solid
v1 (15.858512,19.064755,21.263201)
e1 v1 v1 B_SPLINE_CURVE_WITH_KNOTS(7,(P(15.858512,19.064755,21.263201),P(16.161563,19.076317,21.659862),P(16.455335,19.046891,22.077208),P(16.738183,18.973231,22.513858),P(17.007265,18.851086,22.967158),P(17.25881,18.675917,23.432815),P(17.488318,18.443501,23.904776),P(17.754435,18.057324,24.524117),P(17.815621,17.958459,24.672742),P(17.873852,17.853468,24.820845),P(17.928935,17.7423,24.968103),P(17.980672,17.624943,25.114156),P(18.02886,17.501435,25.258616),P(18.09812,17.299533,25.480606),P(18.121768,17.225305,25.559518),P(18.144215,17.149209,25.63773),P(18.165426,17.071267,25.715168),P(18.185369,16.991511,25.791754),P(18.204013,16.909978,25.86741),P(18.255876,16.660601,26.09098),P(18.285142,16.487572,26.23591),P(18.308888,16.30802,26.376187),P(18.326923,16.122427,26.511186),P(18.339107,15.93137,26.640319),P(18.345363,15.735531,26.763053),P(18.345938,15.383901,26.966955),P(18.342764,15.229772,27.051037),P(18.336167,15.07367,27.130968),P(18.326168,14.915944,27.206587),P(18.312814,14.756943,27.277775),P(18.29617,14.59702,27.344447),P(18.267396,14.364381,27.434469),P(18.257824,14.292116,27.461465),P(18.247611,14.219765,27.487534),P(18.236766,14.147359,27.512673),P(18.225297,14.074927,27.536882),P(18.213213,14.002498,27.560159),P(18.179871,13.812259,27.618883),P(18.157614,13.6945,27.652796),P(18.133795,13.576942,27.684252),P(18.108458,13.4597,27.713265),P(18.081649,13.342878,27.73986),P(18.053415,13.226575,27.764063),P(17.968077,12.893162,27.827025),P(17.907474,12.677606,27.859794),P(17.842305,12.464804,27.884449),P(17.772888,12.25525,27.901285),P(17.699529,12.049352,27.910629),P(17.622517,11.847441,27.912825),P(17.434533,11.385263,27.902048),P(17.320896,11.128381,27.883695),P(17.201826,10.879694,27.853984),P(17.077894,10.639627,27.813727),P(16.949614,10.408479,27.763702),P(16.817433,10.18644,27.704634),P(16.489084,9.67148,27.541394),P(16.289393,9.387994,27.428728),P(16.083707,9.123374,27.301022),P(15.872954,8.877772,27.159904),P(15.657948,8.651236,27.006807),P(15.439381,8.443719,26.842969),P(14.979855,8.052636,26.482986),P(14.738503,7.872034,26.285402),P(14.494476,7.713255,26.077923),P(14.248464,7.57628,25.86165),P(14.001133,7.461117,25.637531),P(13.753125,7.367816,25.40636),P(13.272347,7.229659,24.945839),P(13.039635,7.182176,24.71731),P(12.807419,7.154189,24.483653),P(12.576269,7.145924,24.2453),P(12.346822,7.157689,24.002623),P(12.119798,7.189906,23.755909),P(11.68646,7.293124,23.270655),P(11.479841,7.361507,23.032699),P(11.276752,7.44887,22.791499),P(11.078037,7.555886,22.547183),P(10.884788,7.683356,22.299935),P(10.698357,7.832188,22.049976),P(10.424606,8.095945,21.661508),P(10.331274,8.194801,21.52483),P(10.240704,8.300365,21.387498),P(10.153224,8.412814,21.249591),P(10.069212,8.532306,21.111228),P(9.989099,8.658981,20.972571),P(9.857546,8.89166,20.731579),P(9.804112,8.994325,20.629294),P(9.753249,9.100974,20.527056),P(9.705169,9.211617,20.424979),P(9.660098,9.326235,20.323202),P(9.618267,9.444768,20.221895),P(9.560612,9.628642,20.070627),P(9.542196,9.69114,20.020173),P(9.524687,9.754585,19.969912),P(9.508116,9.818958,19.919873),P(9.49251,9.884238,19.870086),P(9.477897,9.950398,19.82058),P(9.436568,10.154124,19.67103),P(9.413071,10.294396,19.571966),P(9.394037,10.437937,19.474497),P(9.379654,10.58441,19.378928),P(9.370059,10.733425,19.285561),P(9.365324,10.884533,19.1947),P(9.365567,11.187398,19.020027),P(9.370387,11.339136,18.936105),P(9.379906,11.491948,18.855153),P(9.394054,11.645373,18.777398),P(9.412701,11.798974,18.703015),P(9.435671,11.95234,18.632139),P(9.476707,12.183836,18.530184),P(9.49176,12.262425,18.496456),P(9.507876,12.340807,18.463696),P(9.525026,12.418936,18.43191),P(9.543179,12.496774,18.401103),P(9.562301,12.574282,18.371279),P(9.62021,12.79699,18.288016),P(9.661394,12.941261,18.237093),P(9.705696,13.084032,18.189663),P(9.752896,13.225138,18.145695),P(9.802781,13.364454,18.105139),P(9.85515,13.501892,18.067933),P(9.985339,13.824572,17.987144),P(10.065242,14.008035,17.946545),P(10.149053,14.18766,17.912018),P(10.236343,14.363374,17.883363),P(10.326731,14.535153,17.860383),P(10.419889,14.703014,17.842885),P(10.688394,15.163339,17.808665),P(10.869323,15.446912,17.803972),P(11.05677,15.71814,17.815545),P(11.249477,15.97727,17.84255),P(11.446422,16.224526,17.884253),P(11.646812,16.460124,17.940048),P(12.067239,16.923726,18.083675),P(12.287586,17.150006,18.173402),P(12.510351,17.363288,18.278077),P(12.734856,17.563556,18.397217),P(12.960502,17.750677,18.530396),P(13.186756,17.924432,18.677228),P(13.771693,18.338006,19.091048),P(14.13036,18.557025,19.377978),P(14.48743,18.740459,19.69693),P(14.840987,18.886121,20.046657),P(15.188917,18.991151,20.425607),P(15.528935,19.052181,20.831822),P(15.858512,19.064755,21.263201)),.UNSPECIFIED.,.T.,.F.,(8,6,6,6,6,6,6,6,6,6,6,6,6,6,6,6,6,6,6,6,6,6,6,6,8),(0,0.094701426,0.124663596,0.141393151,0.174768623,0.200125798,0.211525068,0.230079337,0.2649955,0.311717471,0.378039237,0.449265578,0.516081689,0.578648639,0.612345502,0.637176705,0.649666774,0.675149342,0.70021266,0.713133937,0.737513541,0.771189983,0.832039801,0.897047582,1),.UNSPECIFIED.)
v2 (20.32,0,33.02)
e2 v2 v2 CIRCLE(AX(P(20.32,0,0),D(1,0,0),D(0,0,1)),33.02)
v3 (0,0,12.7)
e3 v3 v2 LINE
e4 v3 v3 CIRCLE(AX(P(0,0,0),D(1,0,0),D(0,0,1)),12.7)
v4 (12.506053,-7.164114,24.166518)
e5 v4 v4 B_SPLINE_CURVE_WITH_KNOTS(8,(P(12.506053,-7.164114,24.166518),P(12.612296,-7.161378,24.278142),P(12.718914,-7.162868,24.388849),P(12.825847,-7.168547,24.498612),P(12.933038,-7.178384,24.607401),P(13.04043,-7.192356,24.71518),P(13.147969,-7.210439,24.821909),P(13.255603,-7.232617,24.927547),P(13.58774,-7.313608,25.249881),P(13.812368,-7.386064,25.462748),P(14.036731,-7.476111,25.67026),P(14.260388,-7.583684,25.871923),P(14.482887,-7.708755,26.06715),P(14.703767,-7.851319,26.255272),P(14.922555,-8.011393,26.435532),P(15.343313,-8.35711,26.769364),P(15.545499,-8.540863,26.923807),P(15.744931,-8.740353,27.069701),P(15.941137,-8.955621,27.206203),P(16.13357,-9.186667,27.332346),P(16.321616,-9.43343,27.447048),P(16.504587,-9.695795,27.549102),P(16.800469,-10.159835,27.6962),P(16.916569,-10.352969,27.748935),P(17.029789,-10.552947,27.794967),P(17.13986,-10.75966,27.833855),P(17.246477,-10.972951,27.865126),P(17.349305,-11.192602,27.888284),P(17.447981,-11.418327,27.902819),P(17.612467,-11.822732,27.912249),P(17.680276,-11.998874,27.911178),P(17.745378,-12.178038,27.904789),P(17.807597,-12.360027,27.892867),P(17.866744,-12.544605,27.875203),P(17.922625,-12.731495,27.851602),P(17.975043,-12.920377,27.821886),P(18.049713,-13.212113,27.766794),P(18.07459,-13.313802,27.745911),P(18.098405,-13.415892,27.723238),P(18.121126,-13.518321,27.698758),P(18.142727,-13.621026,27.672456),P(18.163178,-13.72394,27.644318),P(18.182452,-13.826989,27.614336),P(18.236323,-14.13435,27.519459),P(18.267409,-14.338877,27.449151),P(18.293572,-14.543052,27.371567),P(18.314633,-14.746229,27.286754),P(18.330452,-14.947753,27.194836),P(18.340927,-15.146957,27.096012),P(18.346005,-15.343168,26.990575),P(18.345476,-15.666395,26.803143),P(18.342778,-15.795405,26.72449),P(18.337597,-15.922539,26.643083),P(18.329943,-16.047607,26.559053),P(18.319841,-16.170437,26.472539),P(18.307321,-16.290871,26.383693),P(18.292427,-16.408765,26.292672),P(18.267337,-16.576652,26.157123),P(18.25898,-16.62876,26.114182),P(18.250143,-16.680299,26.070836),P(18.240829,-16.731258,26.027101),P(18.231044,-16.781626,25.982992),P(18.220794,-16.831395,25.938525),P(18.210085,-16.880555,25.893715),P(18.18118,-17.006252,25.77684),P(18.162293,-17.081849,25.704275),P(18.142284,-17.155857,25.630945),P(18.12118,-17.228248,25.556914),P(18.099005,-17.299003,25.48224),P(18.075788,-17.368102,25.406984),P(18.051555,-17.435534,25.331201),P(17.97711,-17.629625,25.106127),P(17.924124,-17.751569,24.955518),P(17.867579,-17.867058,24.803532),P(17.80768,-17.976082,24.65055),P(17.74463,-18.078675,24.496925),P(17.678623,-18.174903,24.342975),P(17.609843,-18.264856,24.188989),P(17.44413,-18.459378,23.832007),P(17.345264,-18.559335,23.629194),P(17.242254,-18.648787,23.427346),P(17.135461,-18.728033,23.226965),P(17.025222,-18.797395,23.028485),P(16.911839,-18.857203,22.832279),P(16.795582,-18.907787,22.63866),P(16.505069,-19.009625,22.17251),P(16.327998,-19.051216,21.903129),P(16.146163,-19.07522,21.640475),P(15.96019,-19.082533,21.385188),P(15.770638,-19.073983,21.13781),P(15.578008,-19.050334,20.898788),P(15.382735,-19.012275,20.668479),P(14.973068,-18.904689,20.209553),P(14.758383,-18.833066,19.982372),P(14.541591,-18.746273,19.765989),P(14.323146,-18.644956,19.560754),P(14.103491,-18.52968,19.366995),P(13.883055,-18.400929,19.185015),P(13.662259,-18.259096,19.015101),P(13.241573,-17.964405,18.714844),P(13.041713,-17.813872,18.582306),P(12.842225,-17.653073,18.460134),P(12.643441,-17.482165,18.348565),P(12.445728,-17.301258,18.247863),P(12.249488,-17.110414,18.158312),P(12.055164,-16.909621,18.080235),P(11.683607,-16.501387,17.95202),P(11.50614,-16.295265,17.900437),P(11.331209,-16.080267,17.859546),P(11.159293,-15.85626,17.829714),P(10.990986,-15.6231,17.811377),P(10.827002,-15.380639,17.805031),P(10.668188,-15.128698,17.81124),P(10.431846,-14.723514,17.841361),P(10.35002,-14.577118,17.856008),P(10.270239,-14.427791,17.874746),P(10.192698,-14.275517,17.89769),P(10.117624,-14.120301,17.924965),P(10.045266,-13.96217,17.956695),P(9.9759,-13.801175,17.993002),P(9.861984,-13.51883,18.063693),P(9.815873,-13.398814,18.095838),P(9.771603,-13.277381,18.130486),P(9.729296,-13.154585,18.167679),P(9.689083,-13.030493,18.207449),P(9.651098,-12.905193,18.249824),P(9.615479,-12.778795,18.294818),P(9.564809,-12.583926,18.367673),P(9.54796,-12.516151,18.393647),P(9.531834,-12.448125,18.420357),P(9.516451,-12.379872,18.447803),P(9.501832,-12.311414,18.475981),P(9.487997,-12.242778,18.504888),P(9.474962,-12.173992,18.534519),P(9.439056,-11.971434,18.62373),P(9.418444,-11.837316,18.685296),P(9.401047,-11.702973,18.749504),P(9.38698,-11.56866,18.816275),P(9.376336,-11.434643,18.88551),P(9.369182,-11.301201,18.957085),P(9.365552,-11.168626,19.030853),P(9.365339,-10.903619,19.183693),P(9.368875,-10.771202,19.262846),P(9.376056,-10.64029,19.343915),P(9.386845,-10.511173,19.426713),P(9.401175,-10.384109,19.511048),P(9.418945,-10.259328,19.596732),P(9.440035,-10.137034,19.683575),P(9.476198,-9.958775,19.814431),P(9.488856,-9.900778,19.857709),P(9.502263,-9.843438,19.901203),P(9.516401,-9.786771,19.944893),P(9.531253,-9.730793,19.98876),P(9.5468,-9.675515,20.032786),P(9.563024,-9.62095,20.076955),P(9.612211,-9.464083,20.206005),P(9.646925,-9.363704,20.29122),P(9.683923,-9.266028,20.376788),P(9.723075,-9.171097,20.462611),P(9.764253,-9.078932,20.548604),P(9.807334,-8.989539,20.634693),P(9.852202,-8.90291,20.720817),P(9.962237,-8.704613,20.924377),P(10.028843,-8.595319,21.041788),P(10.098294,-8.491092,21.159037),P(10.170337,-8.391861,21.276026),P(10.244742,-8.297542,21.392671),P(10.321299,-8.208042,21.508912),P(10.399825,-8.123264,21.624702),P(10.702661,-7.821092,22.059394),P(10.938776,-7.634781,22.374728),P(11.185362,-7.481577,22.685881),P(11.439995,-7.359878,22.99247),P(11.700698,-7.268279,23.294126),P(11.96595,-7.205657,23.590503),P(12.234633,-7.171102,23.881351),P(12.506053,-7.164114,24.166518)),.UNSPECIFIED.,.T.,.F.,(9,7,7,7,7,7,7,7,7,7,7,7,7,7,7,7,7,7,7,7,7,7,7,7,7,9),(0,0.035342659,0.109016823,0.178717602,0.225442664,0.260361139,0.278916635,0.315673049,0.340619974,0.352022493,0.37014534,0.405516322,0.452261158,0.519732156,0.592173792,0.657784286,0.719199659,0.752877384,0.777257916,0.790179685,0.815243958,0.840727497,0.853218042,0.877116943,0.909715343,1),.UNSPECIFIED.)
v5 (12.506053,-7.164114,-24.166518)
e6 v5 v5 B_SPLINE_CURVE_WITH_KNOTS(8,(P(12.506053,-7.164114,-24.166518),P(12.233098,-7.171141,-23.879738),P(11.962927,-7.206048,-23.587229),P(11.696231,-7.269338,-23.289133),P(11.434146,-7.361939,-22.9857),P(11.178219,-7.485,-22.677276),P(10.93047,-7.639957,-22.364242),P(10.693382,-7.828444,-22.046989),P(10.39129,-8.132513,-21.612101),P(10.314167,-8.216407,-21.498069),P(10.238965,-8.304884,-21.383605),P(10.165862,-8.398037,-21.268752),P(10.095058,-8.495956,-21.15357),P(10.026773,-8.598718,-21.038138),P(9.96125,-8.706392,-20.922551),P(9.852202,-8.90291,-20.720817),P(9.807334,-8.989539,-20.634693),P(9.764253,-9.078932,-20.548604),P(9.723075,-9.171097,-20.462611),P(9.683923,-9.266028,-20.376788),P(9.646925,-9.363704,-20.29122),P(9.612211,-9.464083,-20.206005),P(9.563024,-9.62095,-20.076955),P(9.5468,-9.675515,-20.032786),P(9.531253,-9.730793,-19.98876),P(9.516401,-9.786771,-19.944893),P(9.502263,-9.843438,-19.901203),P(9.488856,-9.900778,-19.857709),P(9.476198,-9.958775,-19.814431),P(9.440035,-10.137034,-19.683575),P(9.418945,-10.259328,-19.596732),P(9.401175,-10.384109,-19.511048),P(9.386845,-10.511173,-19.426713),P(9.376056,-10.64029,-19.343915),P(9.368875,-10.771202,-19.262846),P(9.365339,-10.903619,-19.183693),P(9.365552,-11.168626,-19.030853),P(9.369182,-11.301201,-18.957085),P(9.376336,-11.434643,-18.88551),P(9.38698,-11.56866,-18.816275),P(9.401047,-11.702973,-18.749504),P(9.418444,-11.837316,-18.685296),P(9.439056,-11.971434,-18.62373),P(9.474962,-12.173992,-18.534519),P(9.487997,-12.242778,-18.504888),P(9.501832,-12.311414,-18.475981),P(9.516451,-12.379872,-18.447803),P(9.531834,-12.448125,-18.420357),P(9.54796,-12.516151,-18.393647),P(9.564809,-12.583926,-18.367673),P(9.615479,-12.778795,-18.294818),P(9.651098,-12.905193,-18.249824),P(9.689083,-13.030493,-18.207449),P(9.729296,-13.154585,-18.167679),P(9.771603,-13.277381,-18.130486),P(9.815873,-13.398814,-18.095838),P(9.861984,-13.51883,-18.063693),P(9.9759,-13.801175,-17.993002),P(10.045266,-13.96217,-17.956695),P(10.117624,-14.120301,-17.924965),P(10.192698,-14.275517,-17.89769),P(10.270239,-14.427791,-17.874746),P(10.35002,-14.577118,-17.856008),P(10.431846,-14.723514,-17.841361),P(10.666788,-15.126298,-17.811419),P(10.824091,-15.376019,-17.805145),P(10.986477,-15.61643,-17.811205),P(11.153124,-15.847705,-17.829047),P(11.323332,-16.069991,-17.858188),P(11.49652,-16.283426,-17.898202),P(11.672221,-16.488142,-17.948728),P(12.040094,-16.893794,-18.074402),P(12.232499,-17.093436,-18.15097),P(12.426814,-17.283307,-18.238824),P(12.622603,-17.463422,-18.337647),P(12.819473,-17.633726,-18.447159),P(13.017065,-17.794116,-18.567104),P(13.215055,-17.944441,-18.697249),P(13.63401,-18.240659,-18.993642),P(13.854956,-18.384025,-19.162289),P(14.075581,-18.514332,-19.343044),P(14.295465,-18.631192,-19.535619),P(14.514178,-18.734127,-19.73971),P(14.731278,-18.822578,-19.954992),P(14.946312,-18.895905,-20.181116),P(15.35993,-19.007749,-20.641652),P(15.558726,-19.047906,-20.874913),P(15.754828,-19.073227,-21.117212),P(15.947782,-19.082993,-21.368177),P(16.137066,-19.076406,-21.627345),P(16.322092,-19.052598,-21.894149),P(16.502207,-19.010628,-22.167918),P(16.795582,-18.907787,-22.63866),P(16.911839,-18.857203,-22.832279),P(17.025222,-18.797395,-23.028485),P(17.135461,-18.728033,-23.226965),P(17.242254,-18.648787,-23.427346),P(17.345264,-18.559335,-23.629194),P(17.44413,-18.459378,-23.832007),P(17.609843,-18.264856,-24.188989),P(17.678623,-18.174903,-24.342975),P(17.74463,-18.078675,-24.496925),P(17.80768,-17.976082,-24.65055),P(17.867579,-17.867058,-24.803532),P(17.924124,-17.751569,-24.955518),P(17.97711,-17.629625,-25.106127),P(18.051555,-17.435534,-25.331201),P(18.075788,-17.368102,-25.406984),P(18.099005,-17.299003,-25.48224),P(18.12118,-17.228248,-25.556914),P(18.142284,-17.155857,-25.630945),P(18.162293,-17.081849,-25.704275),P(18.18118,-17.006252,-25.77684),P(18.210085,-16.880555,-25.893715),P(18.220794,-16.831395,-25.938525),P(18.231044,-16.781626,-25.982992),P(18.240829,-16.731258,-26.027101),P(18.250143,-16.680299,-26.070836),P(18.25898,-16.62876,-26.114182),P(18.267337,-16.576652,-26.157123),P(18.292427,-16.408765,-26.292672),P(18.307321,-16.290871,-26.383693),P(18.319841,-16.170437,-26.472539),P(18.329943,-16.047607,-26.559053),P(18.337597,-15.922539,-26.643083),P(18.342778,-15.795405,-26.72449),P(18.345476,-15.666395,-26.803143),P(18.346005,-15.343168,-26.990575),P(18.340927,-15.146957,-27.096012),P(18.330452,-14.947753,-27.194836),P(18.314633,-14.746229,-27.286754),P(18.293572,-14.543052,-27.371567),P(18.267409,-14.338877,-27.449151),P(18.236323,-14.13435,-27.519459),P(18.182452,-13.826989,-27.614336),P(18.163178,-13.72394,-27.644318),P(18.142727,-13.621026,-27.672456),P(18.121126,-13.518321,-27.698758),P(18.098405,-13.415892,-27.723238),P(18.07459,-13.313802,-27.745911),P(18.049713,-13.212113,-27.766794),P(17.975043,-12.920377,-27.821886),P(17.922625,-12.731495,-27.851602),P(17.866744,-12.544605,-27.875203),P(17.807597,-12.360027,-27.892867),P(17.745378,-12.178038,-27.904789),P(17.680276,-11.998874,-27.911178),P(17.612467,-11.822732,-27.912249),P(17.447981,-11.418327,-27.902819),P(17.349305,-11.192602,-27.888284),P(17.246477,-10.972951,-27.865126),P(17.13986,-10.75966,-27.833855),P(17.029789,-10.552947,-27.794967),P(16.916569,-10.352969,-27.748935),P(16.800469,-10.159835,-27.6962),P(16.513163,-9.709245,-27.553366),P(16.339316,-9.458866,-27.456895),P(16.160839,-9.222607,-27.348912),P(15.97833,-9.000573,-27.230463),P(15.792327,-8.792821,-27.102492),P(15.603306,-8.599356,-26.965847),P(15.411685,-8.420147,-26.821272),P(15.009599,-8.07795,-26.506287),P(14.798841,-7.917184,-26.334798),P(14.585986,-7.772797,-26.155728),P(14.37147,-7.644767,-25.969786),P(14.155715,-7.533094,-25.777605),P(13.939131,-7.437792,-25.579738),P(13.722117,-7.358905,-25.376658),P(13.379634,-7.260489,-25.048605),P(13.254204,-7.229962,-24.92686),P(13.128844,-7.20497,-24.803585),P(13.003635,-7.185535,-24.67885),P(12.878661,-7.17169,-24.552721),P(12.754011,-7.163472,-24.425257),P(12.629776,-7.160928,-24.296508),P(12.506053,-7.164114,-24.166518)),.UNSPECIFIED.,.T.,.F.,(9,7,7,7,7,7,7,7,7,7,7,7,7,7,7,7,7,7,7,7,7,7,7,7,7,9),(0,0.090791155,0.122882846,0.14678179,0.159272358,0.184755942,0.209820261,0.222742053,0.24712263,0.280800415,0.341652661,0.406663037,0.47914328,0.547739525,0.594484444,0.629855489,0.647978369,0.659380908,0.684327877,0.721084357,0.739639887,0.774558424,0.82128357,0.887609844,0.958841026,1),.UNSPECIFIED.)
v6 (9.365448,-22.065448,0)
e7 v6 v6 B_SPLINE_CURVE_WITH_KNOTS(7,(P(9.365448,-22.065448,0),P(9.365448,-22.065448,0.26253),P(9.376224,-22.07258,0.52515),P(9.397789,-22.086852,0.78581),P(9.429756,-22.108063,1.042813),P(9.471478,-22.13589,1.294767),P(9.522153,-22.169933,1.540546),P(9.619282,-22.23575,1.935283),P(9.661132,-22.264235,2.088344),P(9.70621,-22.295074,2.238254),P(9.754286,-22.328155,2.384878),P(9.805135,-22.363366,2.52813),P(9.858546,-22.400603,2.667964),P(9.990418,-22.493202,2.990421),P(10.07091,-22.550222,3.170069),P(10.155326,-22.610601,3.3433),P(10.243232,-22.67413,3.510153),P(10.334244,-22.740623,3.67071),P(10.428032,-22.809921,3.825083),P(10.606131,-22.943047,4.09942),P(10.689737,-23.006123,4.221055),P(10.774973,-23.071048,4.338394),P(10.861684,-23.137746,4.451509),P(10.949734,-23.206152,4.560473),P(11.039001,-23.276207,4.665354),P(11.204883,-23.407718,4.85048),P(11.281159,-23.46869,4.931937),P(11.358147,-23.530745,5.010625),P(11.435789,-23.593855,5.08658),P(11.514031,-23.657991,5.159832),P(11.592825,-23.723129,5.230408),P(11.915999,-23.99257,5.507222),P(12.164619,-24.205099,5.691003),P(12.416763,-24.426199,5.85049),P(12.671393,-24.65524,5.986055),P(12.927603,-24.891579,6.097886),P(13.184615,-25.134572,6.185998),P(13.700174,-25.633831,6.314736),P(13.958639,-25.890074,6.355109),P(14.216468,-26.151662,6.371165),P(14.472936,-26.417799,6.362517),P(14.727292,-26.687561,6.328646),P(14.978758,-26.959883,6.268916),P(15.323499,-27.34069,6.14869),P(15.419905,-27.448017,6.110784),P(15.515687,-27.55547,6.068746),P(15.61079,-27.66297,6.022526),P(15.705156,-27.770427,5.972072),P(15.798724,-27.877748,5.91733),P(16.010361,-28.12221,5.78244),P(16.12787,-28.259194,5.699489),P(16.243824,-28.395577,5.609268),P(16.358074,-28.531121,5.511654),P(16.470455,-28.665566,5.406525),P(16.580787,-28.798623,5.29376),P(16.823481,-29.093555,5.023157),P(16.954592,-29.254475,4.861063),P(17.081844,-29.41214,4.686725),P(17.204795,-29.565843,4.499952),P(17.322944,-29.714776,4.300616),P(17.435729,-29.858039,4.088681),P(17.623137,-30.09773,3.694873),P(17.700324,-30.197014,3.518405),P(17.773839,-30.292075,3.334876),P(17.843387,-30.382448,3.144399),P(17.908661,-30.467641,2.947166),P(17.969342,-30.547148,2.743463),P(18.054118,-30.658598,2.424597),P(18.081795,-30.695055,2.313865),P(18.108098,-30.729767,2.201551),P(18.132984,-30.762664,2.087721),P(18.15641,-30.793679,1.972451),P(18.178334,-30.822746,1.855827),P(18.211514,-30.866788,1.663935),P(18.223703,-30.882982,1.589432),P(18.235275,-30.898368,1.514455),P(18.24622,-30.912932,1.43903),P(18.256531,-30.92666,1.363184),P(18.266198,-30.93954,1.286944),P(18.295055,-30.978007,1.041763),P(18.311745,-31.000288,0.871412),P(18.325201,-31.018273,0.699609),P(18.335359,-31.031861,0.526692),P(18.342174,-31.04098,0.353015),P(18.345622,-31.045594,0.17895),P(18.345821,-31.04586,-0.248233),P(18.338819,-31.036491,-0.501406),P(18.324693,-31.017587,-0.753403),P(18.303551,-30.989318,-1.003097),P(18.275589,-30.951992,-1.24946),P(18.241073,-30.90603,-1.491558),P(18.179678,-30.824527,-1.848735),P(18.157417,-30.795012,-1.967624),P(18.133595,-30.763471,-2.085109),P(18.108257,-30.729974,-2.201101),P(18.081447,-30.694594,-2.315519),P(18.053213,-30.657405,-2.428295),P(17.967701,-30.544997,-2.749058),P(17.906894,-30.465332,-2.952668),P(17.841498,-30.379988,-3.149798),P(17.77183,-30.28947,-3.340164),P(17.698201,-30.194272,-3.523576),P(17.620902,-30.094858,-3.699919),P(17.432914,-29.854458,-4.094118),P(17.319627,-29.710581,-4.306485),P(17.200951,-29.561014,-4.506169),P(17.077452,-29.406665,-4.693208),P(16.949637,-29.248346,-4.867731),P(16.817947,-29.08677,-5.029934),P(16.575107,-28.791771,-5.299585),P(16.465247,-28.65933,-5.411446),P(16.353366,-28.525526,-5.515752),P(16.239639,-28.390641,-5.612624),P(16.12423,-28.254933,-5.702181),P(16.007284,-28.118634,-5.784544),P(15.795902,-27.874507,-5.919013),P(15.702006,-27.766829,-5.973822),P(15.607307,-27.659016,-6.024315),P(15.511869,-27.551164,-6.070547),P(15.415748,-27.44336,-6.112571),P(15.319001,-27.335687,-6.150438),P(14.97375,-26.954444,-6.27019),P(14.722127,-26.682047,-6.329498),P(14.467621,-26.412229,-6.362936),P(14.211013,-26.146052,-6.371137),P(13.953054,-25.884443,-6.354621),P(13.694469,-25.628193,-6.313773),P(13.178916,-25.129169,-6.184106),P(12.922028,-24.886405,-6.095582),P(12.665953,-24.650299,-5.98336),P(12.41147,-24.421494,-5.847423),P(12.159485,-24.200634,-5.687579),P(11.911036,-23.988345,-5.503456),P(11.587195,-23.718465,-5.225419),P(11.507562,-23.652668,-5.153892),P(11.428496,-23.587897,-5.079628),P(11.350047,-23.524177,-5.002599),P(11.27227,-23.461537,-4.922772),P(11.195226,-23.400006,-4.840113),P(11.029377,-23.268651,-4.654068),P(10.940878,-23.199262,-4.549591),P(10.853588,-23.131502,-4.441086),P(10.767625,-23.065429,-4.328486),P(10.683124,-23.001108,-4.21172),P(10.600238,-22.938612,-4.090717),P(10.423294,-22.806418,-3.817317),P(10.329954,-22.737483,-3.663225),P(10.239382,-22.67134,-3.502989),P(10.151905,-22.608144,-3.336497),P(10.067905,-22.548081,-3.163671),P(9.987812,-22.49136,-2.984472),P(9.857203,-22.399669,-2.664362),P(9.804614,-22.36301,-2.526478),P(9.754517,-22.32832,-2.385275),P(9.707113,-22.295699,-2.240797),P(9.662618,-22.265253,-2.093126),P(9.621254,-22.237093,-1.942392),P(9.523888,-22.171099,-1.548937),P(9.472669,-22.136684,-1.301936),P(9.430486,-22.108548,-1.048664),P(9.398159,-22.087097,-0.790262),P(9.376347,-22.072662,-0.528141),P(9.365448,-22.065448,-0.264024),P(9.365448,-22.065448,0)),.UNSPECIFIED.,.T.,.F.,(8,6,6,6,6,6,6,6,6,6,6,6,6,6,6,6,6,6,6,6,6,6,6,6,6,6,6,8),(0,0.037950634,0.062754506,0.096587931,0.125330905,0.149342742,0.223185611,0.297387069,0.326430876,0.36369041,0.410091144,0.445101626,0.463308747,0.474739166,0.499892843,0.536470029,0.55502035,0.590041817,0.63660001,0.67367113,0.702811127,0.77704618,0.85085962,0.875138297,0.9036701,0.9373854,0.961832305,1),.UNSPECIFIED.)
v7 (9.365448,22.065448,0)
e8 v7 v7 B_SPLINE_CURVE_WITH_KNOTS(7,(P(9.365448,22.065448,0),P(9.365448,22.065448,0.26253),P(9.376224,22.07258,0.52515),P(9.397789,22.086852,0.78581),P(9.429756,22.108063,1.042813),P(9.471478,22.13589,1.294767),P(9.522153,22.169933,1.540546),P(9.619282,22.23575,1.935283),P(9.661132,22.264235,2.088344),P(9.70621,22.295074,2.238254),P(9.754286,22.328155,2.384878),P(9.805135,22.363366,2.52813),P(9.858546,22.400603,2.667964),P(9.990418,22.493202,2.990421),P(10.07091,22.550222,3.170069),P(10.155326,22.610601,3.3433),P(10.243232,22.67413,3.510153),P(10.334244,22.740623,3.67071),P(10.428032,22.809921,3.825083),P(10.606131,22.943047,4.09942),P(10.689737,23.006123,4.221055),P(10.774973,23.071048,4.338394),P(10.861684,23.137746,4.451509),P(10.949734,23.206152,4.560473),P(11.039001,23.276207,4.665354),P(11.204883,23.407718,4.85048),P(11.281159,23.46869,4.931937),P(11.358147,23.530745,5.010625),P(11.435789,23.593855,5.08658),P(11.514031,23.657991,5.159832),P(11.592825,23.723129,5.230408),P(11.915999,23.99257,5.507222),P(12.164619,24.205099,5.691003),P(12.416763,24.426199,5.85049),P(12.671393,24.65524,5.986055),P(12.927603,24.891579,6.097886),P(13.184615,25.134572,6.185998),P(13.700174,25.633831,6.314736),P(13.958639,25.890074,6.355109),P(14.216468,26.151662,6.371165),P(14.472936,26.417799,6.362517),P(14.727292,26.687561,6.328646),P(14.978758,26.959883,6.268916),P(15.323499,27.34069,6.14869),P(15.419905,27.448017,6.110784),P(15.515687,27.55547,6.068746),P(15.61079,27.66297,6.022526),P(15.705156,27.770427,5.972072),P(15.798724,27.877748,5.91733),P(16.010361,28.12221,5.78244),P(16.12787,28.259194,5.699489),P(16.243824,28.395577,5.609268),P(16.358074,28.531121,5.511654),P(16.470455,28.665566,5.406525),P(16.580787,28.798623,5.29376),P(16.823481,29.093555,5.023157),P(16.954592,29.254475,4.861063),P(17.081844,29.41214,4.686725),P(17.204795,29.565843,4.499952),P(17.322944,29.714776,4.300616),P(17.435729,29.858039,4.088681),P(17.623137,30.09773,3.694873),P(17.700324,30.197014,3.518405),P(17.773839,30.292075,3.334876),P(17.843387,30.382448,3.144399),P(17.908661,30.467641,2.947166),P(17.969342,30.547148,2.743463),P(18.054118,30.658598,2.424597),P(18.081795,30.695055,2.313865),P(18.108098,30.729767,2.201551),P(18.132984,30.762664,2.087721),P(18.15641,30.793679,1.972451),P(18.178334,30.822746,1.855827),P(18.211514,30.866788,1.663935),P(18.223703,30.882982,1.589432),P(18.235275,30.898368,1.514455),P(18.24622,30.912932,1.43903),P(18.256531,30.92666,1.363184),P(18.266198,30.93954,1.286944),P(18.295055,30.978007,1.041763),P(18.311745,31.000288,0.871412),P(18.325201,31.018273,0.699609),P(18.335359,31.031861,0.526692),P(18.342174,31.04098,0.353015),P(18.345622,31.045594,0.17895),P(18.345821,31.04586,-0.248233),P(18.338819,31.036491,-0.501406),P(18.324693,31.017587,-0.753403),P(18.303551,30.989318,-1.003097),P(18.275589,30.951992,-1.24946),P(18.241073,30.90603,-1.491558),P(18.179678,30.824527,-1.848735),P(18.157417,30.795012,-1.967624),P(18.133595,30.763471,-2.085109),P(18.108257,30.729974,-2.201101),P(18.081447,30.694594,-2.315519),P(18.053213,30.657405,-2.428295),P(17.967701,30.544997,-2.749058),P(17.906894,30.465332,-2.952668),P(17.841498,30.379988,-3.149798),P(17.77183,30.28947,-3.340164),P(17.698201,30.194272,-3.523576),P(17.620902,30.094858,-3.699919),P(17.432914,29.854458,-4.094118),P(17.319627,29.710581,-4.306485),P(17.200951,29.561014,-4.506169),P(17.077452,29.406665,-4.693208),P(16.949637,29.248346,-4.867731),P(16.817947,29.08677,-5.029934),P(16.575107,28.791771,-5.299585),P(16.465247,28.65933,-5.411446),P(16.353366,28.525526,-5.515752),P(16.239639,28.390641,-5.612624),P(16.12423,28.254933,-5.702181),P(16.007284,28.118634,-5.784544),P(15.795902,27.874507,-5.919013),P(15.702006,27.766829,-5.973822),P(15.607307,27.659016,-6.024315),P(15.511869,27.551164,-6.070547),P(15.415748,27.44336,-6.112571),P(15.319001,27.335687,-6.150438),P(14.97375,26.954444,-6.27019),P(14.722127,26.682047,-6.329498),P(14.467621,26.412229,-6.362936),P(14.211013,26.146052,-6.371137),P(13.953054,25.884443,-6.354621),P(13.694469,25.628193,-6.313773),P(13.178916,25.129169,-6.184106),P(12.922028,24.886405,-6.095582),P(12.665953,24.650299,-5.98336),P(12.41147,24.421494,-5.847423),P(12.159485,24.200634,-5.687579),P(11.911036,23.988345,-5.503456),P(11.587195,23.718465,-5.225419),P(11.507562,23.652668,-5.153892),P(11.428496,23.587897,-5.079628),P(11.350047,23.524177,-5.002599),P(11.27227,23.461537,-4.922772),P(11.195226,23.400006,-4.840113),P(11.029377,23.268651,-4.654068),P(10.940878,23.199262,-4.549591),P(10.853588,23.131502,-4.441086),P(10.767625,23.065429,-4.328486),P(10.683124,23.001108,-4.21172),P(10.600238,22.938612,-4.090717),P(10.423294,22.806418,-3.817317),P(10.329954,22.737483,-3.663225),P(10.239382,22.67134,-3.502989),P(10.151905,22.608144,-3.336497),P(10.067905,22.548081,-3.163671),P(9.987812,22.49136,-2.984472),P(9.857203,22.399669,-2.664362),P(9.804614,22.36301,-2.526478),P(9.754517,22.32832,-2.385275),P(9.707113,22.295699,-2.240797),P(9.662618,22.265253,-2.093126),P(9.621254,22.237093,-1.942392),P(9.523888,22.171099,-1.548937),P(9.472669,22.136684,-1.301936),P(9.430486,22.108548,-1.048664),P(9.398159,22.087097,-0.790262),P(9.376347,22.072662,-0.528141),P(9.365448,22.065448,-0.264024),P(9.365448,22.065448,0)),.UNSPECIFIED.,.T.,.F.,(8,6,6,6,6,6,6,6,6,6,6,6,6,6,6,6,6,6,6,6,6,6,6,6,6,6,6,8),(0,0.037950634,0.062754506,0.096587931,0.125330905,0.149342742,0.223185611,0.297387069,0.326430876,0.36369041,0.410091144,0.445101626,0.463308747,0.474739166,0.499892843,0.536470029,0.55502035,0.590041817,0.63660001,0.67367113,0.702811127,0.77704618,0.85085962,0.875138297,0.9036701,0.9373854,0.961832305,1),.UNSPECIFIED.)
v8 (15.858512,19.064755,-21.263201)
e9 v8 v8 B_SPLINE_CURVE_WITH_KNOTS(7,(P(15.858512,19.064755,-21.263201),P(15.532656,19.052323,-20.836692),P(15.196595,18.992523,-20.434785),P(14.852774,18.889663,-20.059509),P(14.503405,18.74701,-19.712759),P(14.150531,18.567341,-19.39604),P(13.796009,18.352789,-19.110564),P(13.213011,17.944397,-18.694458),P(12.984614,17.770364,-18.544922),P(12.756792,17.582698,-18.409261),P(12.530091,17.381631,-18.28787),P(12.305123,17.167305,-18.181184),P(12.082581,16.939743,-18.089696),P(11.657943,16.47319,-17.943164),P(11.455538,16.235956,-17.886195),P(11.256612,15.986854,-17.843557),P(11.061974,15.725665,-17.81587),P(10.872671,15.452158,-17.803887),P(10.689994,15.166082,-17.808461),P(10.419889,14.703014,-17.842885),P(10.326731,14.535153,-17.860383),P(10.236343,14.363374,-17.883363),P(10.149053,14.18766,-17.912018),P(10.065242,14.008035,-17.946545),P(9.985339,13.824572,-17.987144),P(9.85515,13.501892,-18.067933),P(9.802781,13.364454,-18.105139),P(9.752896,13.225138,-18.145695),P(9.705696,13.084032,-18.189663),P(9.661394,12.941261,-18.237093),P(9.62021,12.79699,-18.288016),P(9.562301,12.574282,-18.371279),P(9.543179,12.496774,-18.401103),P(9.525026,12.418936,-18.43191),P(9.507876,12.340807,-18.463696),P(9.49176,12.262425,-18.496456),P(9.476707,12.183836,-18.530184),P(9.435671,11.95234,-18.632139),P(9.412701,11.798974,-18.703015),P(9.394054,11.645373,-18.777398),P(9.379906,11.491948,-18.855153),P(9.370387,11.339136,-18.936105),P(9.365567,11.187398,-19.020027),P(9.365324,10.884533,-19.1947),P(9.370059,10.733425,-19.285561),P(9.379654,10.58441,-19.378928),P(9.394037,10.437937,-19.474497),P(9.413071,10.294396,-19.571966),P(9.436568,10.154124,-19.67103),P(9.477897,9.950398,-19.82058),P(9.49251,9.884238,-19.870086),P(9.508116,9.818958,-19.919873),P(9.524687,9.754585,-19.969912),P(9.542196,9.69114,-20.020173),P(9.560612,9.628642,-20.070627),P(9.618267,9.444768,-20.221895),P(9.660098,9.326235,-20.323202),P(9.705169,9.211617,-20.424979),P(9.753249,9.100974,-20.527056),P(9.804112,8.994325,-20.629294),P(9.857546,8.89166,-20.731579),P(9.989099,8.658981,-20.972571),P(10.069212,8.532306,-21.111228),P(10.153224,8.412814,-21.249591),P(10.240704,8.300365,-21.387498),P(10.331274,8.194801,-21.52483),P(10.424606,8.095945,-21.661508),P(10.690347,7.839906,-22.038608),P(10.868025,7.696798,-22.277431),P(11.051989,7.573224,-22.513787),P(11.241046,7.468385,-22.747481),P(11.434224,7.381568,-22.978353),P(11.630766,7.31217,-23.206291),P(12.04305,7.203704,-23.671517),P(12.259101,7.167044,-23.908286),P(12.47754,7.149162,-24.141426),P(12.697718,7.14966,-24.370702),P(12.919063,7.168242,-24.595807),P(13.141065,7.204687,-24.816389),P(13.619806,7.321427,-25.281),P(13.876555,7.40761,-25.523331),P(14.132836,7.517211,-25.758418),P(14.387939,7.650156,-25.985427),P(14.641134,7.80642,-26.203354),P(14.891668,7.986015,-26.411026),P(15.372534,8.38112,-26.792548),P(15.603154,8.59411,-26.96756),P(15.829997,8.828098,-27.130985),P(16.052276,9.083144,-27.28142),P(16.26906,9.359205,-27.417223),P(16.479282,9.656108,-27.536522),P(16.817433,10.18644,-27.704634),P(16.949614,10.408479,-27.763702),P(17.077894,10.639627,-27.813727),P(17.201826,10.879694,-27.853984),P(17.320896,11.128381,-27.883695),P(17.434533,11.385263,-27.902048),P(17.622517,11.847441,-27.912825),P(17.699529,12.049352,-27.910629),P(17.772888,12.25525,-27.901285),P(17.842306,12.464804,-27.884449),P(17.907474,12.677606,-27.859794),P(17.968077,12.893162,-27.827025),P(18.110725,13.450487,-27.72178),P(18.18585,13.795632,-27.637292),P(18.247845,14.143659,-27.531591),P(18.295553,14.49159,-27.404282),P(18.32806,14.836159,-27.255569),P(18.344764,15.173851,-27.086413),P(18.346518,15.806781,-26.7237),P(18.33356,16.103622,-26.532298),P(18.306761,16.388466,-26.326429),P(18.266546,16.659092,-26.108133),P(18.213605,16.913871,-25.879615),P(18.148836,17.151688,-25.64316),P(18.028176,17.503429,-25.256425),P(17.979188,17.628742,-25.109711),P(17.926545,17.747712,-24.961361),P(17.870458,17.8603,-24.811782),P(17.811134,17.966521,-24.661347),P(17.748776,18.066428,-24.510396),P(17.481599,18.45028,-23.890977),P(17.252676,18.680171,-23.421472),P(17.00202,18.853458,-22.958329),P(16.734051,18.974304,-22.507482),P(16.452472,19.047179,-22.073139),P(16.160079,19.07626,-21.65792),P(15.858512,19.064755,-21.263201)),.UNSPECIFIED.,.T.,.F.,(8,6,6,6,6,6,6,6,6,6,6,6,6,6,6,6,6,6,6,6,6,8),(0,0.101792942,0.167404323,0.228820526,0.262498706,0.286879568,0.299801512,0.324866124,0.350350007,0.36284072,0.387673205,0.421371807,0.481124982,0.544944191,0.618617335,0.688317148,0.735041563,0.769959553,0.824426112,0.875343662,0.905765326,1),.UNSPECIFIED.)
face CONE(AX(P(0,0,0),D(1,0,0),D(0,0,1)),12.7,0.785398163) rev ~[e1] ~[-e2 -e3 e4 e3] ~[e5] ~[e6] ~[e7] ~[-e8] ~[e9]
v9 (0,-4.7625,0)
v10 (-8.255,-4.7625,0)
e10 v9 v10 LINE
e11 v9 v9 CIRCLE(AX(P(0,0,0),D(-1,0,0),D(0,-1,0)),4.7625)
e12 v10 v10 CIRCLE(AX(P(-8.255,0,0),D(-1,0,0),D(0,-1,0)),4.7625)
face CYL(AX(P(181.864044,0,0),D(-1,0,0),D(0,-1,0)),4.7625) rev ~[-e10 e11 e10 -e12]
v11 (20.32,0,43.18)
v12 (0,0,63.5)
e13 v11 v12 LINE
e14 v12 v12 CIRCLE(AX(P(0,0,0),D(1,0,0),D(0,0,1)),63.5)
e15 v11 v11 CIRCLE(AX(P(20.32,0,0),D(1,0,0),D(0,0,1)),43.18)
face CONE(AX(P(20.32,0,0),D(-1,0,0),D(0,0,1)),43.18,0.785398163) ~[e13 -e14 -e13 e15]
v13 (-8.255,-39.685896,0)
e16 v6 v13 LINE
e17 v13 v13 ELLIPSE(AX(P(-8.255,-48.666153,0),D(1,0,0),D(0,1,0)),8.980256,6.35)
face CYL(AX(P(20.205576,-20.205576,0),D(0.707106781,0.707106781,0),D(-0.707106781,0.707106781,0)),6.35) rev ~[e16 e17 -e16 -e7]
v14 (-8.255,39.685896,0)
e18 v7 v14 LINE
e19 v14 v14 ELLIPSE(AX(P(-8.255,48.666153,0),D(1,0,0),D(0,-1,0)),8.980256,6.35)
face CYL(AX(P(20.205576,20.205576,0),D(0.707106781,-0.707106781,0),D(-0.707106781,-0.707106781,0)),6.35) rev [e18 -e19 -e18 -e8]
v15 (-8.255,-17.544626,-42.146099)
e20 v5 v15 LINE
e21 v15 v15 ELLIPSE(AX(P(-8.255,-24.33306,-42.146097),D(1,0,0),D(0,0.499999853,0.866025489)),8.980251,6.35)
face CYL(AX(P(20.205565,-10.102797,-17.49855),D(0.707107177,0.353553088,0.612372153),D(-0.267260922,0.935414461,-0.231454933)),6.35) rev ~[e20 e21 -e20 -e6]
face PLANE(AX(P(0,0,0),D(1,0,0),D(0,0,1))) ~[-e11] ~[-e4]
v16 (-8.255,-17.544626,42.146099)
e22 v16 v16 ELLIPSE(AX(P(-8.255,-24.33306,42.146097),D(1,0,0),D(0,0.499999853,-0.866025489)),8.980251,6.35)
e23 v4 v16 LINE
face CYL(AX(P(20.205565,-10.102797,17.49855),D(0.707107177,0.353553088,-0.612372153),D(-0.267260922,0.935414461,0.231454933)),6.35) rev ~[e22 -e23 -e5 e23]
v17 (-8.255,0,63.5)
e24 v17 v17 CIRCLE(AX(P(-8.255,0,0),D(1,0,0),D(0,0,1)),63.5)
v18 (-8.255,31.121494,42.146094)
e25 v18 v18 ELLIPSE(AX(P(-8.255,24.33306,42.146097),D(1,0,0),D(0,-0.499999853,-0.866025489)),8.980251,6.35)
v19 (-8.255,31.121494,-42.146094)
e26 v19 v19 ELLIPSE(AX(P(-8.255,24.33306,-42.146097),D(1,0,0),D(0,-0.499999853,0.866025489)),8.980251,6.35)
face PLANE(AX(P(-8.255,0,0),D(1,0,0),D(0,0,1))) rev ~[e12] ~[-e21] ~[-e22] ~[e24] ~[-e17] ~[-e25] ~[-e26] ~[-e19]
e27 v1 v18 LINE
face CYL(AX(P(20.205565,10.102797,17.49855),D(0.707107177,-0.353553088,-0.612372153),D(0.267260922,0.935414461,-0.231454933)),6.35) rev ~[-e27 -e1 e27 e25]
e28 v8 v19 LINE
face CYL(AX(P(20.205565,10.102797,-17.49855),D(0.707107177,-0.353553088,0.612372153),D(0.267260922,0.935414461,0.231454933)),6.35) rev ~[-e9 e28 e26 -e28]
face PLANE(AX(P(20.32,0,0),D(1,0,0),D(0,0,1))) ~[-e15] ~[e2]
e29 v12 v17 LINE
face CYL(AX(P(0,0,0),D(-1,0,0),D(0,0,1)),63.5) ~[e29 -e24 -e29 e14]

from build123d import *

# Parameters (mm, degrees)
F10_R     = 6.35
F15_DEPTH = 67.174456
F11_R     = 6.35
F16_DEPTH = 67.174457
F14_R     = 6.35
F17_DEPTH = 50.739447
F13_R     = 6.35
F18_DEPTH = 50.739447
F9_R      = 6.35
F19_DEPTH = 67.174457
F12_R     = 6.35
F20_DEPTH = 67.174457
F21_D     = 9.525


with BuildPart() as f1:
    # F0 (on Front) → F1 (revolve)
    with BuildSketch(Plane.XZ):
        Polygon((-8.255, 0), (0, 0), (0, 12.7), (20.32, 33.02), (20.32, 43.18), (0, 63.5), (-8.255, 63.5), align=None)
    revolve(axis=Axis((-4.1275, 0, 0), (1, 0, 0)))

    # F10 (on face) → F15 (cut, through all)
    with BuildSketch(Plane(origin=(0, 0, 0), x_dir=(-0.267261, 0.935414, 0.231455), z_dir=(0.707107, 0.353553, -0.612372))):
        with Locations((-10.800335, 26.455309)):
            Circle(F10_R)
    extrude(amount=-F15_DEPTH, mode=Mode.SUBTRACT)

    # F11 (on face) → F16 (cut, through all)
    with BuildSketch(Plane(origin=(0, 0, 0), x_dir=(0.267261, 0.935414, -0.231455), z_dir=(0.707107, -0.353553, -0.612372))):
        with Locations((10.800335, 26.455309)):
            Circle(F11_R)
    extrude(amount=-F16_DEPTH, mode=Mode.SUBTRACT)

    # F14 (on face) → F17 (cut, through all)
    with BuildSketch(Plane(origin=(0, 0, 0), x_dir=(-0.707107, 0.707107, 0), z_dir=(0.707107, 0.707107, 0))):
        with Locations((-28.575, 0)):
            Circle(F14_R)
    extrude(amount=-F17_DEPTH, mode=Mode.SUBTRACT)

    # F13 (on face) → F18 (cut, through all)
    with BuildSketch(Plane(origin=(0, 0, 0), x_dir=(-0.707107, -0.707107, 0), z_dir=(-0.707107, 0.707107, 0))):
        with Locations((-28.575, 0)):
            Circle(F13_R)
    extrude(amount=F18_DEPTH, mode=Mode.SUBTRACT)

    # F9 (on face) → F19 (cut, through all)
    with BuildSketch(Plane(origin=(0, 0, 0), x_dir=(0.267261, 0.935414, 0.231455), z_dir=(0.707107, -0.353553, 0.612372))):
        with Locations((10.800335, -26.455309)):
            Circle(F9_R)
    extrude(amount=-F19_DEPTH, mode=Mode.SUBTRACT)

    # F12 (on face) → F20 (cut, through all)
    with BuildSketch(Plane(origin=(0, 0, 0), x_dir=(-0.267261, 0.935414, -0.231455), z_dir=(0.707107, 0.353553, 0.612372))):
        with Locations((-10.800335, -26.455309)):
            Circle(F12_R)
    extrude(amount=-F20_DEPTH, mode=Mode.SUBTRACT)

    # F21 (through all)
    with Locations(Plane.YZ):
        with Locations((0, 0)):
            Hole(F21_D / 2)


solid = f1.part
